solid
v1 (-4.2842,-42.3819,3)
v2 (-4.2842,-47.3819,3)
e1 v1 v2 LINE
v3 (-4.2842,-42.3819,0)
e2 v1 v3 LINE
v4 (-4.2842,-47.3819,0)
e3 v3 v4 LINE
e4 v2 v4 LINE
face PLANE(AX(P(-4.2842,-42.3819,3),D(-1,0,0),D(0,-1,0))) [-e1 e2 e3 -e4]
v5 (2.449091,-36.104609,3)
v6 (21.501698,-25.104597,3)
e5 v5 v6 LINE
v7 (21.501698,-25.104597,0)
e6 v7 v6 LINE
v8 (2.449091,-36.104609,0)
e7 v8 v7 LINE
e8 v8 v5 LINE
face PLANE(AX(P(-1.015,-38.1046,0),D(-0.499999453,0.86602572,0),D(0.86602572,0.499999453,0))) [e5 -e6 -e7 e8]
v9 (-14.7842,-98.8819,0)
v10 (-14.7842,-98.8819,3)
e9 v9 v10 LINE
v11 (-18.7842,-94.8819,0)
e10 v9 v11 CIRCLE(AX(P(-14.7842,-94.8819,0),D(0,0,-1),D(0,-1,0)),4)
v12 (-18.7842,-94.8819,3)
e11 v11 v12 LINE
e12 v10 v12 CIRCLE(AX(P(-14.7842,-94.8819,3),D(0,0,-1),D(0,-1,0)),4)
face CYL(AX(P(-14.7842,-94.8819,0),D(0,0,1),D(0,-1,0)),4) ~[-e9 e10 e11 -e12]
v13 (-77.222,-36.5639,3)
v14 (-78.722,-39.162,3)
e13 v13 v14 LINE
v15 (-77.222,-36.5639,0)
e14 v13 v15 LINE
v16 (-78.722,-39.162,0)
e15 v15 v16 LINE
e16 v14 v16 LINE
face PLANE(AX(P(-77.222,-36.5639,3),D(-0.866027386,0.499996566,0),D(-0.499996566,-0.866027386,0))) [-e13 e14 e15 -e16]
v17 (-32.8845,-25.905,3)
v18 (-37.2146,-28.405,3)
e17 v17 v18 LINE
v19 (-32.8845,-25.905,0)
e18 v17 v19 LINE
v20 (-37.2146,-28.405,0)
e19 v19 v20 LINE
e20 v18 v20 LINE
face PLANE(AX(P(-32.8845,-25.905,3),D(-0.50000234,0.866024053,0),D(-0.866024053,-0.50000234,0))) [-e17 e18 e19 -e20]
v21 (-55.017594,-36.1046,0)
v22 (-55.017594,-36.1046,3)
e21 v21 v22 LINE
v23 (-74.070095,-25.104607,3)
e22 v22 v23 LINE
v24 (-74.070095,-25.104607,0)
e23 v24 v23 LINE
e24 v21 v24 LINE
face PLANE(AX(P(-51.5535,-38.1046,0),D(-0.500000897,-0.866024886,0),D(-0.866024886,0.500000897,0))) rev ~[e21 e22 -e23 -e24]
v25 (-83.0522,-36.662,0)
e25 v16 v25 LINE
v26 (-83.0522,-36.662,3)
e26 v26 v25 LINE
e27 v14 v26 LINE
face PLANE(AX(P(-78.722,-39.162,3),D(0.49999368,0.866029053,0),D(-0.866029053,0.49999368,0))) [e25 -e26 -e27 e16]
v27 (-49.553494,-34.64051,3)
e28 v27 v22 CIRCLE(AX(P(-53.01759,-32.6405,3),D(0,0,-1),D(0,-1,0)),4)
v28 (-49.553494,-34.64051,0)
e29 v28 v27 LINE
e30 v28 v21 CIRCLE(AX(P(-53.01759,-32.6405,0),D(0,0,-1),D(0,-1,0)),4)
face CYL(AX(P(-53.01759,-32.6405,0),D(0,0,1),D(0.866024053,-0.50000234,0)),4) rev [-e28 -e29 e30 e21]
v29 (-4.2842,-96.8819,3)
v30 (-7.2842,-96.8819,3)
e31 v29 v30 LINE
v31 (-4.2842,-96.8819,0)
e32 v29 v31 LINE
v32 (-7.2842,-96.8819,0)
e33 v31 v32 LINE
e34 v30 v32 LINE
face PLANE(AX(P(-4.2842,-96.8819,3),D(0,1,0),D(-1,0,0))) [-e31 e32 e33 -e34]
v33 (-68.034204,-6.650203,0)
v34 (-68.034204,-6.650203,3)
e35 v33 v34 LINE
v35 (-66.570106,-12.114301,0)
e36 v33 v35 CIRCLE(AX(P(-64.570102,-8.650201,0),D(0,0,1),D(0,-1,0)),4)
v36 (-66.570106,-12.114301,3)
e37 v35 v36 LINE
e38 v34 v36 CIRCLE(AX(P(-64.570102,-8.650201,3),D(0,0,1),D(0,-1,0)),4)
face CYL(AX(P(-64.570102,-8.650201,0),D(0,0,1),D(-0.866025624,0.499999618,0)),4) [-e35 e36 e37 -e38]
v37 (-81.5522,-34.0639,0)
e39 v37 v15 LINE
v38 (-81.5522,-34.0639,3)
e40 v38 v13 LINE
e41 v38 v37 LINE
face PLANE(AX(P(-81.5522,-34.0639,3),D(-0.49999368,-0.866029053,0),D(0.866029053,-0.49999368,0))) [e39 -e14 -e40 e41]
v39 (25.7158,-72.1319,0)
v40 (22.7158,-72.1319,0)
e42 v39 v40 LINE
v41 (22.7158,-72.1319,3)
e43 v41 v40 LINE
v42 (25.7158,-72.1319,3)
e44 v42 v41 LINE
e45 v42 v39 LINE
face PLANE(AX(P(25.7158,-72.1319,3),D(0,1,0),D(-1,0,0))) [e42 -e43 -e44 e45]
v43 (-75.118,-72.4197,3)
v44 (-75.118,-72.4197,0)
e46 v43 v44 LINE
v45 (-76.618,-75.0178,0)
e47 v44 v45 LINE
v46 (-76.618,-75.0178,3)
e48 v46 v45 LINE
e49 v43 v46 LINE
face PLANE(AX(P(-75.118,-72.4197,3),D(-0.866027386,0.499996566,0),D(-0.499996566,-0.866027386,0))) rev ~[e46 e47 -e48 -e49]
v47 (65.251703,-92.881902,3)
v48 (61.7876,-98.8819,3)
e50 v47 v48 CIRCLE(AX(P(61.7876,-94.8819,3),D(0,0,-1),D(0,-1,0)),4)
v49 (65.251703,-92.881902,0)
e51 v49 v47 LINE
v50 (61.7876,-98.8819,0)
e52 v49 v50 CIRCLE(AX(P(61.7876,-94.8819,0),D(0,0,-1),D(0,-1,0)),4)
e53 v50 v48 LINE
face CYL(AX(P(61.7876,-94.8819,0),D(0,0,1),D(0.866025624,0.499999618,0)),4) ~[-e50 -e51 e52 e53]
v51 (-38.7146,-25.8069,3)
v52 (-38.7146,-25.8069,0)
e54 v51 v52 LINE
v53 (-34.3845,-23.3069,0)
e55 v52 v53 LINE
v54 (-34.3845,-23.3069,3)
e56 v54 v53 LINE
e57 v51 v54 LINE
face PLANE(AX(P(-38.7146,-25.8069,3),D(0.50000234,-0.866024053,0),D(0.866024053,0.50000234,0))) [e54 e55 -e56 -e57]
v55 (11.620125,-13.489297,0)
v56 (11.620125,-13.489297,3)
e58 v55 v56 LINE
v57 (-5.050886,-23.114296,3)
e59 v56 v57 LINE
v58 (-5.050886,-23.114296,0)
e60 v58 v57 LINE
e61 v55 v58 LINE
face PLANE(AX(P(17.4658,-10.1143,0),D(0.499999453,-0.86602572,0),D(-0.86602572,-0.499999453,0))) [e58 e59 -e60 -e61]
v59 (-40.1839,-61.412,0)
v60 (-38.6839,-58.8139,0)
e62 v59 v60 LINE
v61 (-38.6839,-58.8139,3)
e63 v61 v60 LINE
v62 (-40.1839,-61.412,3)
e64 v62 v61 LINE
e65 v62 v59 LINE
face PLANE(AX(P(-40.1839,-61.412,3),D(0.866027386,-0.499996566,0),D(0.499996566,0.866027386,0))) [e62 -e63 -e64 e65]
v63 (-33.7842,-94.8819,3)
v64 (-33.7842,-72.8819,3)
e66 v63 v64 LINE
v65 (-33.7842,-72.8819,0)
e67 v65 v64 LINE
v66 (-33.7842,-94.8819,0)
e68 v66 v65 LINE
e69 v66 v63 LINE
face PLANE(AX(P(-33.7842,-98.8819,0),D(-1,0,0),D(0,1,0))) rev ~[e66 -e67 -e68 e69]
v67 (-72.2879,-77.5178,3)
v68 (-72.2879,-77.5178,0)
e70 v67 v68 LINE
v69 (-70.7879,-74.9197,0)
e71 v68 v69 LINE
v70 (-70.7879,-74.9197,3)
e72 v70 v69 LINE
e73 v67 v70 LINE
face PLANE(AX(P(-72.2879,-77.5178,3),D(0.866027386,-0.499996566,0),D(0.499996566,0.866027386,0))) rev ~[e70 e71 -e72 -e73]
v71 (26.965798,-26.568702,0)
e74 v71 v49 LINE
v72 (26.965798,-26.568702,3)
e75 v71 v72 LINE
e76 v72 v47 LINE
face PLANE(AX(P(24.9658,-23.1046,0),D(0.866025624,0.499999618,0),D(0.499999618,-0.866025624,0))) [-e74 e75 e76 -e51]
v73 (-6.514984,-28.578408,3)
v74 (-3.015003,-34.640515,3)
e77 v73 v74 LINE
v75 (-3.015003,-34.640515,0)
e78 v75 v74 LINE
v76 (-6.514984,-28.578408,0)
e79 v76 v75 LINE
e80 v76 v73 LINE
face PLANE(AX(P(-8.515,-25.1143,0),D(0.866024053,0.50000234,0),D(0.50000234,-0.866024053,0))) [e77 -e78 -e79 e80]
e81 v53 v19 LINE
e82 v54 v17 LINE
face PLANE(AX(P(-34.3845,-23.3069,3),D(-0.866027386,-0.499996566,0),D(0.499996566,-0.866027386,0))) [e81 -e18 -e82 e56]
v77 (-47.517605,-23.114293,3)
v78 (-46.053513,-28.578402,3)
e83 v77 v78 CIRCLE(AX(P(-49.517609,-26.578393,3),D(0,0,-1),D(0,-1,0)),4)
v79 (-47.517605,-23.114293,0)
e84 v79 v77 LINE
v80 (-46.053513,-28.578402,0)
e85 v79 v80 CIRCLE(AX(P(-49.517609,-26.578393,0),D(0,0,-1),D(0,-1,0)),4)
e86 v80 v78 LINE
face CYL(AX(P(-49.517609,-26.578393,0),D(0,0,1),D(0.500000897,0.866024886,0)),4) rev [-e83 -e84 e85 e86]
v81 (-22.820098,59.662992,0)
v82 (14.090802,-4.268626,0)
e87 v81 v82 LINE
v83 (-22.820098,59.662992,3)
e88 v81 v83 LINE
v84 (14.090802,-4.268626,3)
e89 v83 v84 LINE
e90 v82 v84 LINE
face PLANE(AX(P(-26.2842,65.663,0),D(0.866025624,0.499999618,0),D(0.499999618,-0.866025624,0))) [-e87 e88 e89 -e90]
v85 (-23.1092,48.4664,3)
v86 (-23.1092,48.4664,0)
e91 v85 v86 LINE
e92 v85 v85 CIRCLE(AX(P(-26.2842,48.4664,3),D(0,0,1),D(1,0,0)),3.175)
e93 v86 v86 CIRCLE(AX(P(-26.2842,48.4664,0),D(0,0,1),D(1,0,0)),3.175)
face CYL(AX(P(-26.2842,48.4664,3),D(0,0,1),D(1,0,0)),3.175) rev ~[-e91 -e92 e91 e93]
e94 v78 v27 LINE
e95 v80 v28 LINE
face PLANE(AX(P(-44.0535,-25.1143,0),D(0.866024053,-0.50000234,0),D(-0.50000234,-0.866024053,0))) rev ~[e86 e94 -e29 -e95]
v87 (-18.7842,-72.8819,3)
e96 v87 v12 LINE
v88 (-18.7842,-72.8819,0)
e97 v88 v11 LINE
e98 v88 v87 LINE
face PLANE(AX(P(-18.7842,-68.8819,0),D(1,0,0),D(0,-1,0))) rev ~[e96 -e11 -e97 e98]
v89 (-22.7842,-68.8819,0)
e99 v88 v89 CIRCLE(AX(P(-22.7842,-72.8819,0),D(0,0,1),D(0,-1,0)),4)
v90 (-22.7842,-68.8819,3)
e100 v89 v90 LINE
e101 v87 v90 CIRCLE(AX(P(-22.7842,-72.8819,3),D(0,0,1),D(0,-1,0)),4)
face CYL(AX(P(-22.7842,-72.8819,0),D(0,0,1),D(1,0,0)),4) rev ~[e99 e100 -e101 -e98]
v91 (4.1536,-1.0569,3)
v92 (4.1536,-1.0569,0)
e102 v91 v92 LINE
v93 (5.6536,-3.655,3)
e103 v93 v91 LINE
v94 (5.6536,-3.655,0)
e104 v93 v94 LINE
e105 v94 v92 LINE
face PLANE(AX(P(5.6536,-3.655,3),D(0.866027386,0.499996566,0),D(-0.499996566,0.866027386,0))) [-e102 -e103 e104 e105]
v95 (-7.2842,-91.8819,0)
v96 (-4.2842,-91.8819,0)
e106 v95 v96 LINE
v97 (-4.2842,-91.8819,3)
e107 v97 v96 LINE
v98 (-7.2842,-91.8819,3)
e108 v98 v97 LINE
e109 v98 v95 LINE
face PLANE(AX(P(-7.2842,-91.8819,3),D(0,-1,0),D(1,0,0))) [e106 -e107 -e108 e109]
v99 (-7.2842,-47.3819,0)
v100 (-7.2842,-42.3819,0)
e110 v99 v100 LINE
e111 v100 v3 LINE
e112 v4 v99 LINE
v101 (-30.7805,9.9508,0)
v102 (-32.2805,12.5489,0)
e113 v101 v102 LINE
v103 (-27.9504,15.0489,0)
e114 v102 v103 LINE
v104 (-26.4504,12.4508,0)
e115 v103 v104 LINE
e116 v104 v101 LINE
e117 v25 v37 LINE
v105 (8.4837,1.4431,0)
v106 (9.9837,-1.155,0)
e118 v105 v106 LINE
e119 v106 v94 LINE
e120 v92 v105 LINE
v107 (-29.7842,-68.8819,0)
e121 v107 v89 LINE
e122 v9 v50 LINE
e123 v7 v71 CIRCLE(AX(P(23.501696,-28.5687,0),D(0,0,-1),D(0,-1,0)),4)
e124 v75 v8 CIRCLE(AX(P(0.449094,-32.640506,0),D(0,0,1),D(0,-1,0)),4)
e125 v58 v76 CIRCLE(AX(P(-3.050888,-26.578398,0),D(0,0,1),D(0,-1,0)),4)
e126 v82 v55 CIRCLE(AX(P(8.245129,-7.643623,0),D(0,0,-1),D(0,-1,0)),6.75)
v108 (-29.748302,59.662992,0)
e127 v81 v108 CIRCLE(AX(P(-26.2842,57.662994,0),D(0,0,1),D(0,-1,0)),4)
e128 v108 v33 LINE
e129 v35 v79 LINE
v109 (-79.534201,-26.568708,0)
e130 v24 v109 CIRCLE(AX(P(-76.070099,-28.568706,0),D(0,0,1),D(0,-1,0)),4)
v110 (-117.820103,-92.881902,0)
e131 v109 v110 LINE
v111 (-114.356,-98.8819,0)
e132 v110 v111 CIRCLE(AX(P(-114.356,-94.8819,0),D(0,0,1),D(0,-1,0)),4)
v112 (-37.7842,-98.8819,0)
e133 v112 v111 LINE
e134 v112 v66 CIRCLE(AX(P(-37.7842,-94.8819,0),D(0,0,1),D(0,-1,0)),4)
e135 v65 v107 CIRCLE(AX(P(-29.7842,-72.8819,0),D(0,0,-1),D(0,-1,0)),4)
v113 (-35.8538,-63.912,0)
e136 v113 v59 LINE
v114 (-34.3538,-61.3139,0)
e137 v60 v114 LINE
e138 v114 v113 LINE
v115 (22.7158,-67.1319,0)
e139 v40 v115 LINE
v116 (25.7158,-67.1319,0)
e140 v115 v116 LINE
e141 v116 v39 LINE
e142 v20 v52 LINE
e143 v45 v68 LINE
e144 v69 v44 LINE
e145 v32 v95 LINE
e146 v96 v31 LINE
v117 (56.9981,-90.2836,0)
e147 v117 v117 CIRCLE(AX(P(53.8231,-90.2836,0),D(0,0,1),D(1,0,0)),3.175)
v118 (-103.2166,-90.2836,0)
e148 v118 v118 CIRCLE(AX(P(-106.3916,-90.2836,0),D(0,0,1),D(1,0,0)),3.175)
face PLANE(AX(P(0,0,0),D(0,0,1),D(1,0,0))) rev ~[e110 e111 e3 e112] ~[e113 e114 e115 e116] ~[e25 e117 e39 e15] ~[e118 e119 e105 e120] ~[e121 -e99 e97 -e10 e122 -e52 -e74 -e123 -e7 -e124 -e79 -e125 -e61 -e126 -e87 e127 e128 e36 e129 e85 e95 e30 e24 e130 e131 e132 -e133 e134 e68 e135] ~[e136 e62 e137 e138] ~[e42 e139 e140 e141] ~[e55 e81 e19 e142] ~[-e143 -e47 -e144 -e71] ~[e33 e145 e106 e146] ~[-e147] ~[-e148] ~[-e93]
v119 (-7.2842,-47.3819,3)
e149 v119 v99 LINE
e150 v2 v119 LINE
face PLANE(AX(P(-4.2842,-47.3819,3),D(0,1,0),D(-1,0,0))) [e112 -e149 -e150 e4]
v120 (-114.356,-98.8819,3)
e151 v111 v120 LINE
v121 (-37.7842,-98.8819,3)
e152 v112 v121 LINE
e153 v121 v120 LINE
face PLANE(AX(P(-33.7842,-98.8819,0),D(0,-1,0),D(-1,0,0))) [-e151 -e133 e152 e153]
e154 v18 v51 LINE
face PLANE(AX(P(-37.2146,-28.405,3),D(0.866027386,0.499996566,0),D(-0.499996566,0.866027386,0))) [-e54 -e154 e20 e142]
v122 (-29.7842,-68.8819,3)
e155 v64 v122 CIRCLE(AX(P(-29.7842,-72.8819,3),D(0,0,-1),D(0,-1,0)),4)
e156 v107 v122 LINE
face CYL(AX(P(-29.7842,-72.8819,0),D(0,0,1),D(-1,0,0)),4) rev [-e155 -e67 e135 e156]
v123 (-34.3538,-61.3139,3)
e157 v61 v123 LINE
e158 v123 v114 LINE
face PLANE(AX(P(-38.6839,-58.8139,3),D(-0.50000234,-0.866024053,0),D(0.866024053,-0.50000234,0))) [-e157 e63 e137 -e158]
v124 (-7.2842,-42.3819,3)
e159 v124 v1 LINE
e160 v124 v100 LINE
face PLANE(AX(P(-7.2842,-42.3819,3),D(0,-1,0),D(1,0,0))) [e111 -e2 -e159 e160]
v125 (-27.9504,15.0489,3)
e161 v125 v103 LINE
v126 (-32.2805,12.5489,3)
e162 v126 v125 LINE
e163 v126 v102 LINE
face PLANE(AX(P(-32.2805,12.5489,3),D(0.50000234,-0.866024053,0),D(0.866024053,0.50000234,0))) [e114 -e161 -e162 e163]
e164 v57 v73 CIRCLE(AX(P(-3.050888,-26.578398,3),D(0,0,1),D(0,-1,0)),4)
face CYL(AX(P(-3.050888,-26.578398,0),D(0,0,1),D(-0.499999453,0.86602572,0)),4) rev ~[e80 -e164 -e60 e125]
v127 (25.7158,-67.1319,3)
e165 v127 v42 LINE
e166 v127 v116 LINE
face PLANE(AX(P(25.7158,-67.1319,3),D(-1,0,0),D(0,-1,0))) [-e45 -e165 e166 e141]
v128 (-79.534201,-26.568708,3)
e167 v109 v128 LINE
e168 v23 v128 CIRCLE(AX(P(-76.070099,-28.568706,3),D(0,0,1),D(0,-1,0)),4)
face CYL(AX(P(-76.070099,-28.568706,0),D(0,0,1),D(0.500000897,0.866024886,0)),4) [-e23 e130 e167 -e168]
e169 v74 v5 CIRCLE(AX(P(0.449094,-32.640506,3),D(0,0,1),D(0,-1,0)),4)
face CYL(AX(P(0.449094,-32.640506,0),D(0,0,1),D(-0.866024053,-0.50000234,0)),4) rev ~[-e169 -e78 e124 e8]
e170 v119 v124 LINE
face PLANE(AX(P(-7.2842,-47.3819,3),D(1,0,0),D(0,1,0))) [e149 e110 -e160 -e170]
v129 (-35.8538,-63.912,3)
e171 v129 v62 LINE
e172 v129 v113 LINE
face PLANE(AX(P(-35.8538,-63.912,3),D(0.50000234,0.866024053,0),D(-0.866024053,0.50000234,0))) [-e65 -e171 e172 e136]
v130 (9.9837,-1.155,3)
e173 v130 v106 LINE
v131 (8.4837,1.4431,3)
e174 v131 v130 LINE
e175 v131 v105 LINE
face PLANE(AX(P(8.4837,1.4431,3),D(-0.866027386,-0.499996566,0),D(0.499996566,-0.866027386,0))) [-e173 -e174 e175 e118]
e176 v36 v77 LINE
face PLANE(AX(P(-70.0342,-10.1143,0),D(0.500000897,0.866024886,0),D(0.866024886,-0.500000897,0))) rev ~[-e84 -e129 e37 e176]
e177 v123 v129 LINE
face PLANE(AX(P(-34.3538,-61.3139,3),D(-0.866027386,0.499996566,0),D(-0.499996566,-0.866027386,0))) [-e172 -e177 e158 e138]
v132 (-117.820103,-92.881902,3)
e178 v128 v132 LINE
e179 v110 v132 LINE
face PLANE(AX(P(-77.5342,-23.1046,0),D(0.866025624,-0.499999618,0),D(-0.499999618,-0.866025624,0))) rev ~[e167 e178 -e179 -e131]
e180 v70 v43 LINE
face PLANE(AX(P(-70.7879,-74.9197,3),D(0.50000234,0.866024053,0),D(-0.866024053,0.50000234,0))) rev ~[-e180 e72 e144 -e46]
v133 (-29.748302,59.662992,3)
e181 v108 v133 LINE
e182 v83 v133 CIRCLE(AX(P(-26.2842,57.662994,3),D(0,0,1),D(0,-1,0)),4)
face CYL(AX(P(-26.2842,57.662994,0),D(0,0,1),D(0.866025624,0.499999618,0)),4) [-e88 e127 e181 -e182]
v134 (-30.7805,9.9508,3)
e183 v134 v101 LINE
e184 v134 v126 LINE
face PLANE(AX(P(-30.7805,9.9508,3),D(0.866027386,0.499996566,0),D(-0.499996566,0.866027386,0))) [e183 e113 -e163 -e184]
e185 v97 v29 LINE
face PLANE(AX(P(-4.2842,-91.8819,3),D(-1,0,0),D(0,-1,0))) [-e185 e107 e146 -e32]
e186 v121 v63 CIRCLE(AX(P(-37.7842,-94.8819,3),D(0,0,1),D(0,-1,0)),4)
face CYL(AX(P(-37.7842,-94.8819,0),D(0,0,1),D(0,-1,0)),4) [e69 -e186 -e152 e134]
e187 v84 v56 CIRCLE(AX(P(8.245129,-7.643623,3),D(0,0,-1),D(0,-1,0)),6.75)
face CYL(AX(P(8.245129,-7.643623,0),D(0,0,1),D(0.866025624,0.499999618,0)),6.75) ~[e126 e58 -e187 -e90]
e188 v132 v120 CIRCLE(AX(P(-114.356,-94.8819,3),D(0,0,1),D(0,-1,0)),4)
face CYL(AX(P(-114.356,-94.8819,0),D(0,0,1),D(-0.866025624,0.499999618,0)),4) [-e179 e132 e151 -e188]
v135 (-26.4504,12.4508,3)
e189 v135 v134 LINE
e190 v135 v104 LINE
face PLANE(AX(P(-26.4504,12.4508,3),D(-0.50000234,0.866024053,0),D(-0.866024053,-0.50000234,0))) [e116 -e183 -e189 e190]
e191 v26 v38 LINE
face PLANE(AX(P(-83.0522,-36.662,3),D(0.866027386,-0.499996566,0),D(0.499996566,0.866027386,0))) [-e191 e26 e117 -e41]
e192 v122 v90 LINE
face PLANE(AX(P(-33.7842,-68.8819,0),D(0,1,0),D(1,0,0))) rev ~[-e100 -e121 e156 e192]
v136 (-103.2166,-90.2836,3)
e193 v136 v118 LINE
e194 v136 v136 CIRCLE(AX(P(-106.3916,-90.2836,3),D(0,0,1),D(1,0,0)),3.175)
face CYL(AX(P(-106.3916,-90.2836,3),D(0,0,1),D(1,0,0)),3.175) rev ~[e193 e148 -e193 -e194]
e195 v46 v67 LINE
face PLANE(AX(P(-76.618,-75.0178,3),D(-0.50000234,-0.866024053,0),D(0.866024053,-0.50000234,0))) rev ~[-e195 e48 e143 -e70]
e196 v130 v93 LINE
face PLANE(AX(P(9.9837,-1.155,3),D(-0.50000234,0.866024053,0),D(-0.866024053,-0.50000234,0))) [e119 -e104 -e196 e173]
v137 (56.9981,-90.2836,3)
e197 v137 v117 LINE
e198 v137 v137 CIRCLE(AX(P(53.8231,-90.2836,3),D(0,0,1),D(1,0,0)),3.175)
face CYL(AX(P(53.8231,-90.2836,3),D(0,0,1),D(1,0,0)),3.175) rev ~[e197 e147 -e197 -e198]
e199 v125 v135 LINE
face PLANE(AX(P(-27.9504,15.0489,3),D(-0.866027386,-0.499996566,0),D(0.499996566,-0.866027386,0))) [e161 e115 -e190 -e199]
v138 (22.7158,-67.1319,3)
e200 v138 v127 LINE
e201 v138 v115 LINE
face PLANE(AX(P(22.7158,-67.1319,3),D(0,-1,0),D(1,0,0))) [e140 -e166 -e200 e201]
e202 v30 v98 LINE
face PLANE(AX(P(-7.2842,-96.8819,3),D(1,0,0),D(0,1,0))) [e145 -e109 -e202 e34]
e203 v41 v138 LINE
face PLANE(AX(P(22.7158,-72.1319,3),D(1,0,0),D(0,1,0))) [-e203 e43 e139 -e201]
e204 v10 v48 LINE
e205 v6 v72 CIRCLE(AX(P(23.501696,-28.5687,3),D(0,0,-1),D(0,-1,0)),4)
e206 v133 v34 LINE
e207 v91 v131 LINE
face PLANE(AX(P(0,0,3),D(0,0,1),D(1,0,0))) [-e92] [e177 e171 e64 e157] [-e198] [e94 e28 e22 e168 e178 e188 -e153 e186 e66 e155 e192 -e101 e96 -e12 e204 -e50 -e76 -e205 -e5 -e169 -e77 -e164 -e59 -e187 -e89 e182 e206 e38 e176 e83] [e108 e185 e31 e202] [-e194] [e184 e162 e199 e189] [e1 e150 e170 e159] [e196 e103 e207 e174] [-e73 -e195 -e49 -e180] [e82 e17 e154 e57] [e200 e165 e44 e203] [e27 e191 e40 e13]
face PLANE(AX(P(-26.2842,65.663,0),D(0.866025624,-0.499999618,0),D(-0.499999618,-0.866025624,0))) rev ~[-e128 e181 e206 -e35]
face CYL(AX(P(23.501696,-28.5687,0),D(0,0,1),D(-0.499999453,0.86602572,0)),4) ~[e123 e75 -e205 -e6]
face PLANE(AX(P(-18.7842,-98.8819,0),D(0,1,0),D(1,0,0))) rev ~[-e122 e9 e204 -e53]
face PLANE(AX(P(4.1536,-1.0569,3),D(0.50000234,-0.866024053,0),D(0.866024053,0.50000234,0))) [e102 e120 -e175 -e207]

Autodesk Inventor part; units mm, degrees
ref_plane "YZ Plane" through (0, 0, 0) normal (1, 0, 0) x (0, 1, 0)
ref_plane "XZ Plane" through (0, 0, 0) normal (0, 1, 0) x (-1, 0, 0)
ref_plane "XY Plane" through (0, 0, 0) normal (0, 0, 1) x (1, 0, 0)
sketch "Sketch1" plane through (0, 0, 0) normal (0, 0, 1) x (1, 0, 0)
  line L0 (68.7158, -98.8819) -> (-121.2842, -98.8819) construction
  line L1 (-121.2842, -98.8819) -> (-26.2842, 65.663) construction
  line L2 (-26.2842, 65.663) -> (-26.2842, -98.8819) construction
  line L3 (68.7158, -98.8819) -> (-73.7842, -16.6094) construction
  line L4 (-33.7842, -98.8819) -> (-33.7842, -68.8819)
  line L5 (-33.7842, -68.8819) -> (-18.7842, -68.8819)
  line L6 (-18.7842, -68.8819) -> (-18.7842, -98.8819)
  line L7 (-70.0342, -10.1143) -> (-44.0535, -25.1143)
  line L8 (-44.0535, -25.1143) -> (-51.5535, -38.1046)
  line L9 (-51.5535, -38.1046) -> (-77.5342, -23.1046)
  line L10 (-77.5342, -23.1046) -> (-121.2842, -98.8819)
  line L11 (-33.7842, -98.8819) -> (-121.2842, -98.8819)
  line L12 (-18.7842, -98.8819) -> (68.7158, -98.8819)
  line L13 (-26.2842, 65.663) -> (-70.0342, -10.1143)
  line L14 (-121.2842, -98.8819) -> (17.4658, -18.7745) construction
  line L15 (-26.2842, 65.663) -> (68.7158, -98.8819) construction
  line L16 (17.4658, -10.1143) -> (-8.515, -25.1143)
  line L17 (-8.515, -25.1143) -> (-1.015, -38.1046)
  line L18 (-1.015, -38.1046) -> (24.9658, -23.1046)
  line L19 (-26.2842, 65.663) -> (17.4658, -10.1143)
  line L20 (24.9658, -23.1046) -> (68.7158, -98.8819)
  point P0 (-26.2842, -44.0336)
  point P1 (-26.2842, -44.0336)
  dimension "d3" = 190
  dimension "d6" = 7.5
  dimension "d7" = 15
  dimension "d8" = 30
  dimension "d9" = 15
  dimension "d10" = 7.5
  dimension "d16" = 30
  dimension "d18" = 15
  dimension "d19" = 7.5
  dimension "d20" = 30
extrude "Extrusion2" add sketch "Sketch1" along normal blind 3
fillet "Fillet1" radius 6.75 1 edges at (17.4658, -10.1143, 1.5)
fillet "Fillet2" radius 4 14 edges at (-8.515, -25.1143, 1.5) (24.9658, -23.1046, 1.5) (-1.015, -38.1046, 1.5) (-33.7842, -98.8819, 1.5) (-33.7842, -68.8819, 1.5) (-18.7842, -98.8819, 1.5) (68.7158, -98.8819, 1.5) (-18.7842, -68.8819, 1.5) (-121.2842, -98.8819, 1.5) (-70.0342, -10.1143, 1.5) (-44.0535, -25.1143, 1.5) (-51.5535, -38.1046, 1.5) (-77.5342, -23.1046, 1.5) (-26.2842, 65.663, 1.5)
sketch "Sketch3" plane through (0, 0, 3) normal (0, 0, 1) x (1, 0, 0)
  line L0 (61.7876, -98.8819) -> (-14.7842, -98.8819) projected
  line L1 (-7.2842, -91.8819) -> (-4.2842, -91.8819)
  line L2 (-4.2842, -91.8819) -> (-4.2842, -96.8819)
  line L3 (-4.2842, -96.8819) -> (-7.2842, -96.8819)
  line L4 (-7.2842, -96.8819) -> (-7.2842, -91.8819)
  line L5 (-18.7842, -94.8819) -> (-18.7842, -72.8819) projected
  line L6 (-7.2842, -42.3819) -> (-4.2842, -42.3819)
  line L7 (-4.2842, -42.3819) -> (-4.2842, -47.3819)
  line L8 (-4.2842, -47.3819) -> (-7.2842, -47.3819)
  line L9 (-7.2842, -47.3819) -> (-7.2842, -42.3819)
  line L10 (-74.0701, -25.1046) -> (-55.0176, -36.1046) projected
  line L11 (-117.8201, -92.8819) -> (-79.5342, -26.5687) projected
  line L12 (11.6201, -13.4893) -> (-5.0509, -23.1143) projected
  line L13 (-22.8201, 59.663) -> (14.0908, -4.2686) projected
  line L14 (-34.3845, -23.3069) -> (-32.8845, -25.905)
  line L15 (-32.8845, -25.905) -> (-37.2146, -28.405)
  line L16 (-37.2146, -28.405) -> (-38.7146, -25.8069)
  line L17 (-38.7146, -25.8069) -> (-34.3845, -23.3069)
  line L18 (8.4837, 1.4431) -> (9.9837, -1.155)
  line L19 (9.9837, -1.155) -> (5.6536, -3.655)
  line L20 (5.6536, -3.655) -> (4.1536, -1.0569)
  line L21 (4.1536, -1.0569) -> (8.4837, 1.4431)
  line L22 (-40.1839, -61.412) -> (-38.6839, -58.8139)
  line L23 (-38.6839, -58.8139) -> (-34.3538, -61.3139)
  line L24 (-34.3538, -61.3139) -> (-35.8538, -63.912)
  line L25 (-35.8538, -63.912) -> (-40.1839, -61.412)
  line L26 (-83.0522, -36.662) -> (-81.5522, -34.0639)
  line L27 (-81.5522, -34.0639) -> (-77.222, -36.5639)
  line L28 (-77.222, -36.5639) -> (-78.722, -39.162)
  line L29 (-78.722, -39.162) -> (-83.0522, -36.662)
  line L30 (22.7158, -67.1319) -> (25.7158, -67.1319)
  line L31 (25.7158, -67.1319) -> (25.7158, -72.1319)
  line L32 (25.7158, -72.1319) -> (22.7158, -72.1319)
  line L33 (22.7158, -72.1319) -> (22.7158, -67.1319)
  line L34 (-49.5535, -34.6405) -> (-46.0535, -28.5784) projected
  line L35 (-6.515, -28.5784) -> (-3.015, -34.6405) projected
  line L36 (-30.7805, 9.9508) -> (-32.2805, 12.5489)
  line L37 (-32.2805, 12.5489) -> (-27.9504, 15.0489)
  line L38 (-27.9504, 15.0489) -> (-26.4504, 12.4508)
  line L39 (-26.4504, 12.4508) -> (-30.7805, 9.9508)
  line L40 (-75.118, -72.4197) -> (-76.618, -75.0178)
  line L41 (-76.618, -75.0178) -> (-72.2879, -77.5178)
  line L42 (-72.2879, -77.5178) -> (-70.7879, -74.9197)
  line L43 (-70.7879, -74.9197) -> (-75.118, -72.4197)
  line L44 (-68.0342, -6.6502) -> (-29.7483, 59.663) projected
  line L45 (-47.5176, -23.1143) -> (-66.5701, -12.1143) projected
  line L46 (26.9658, -26.5687) -> (65.2517, -92.8819) projected
  line L47 (-61.1393, 5.2922) -> (-129.5703, -113.2338) construction
  line L48 (-129.5703, -98.8819) -> (82.7932, -98.8819) construction
  line L49 (71.7222, -104.0892) -> (-26.7217, 66.4208) construction
  line L50 (-61.1393, 5.2922) -> (-24.7647, 68.2948) construction
  line L51 (-26.2842, 65.663) -> (-26.2842, -98.8819) construction
  line L52 (68.7158, -98.8819) -> (-73.7842, -16.6094) construction
  line L53 (-121.2842, -98.8819) -> (21.2158, -16.6094) construction
  circle A0 centre (-26.2842, -44.0336) radius 92.5 construction
  circle A1 centre (53.8231, -90.2836) radius 3.175
  circle A2 centre (-106.3916, -90.2836) radius 3.175
  circle A3 centre (-26.2842, 48.4664) radius 3.175
  point P0 (0, 0)
  dimension "d35" = 3
  dimension "d36" = 5
  dimension "d38" = 2
  dimension "d41" = 11.5
  dimension "d42" = 3
  dimension "d43" = 5
  dimension "d44" = 44.5
  dimension "d45" = 3
  dimension "d46" = 5
  dimension "d47" = 3
  dimension "d48" = 5
  dimension "d49" = 44.5
  dimension "d50" = 3
  dimension "d51" = 5
  dimension "d52" = 3
  dimension "d53" = 5
  dimension "d54" = 44.5
  dimension "d55" = 2
  dimension "d56" = 11.5
  dimension "d57" = 11.5
  dimension "d58" = 2
  dimension "d59" = 3
  dimension "d60" = 5
  dimension "d61" = 19.75
  dimension "d62" = 30
  dimension "d63" = 5
  dimension "d64" = 3
  dimension "d65" = 30
  dimension "d66" = 19.75
  dimension "d67" = 3
  dimension "d68" = 5
  dimension "d69" = 19.75
  dimension "d70" = 30
  dimension "d72" = 185
  dimension "d73" = 6.35
  dimension "d74" = 6.35
  dimension "d75" = 6.35
extrude "Extrusion4" cut sketch "Sketch3" against normal blind 3
equation "\"d6\" = 0.5 * d7"
equation "\"d9\" = d7"
equation "\"d10\" = d6"
equation "\"d16\" = d15"
equation "\"d18\" = d7"
equation "\"d19\" = d6"
equation "\"d20\" = d16"
equation "\"d55\" = d38"
equation "\"d56\" = d41"
equation "\"d57\" = d56"
equation "\"d58\" = d38"
equation "\"d61\" = 0.5 * d44 - 0.5 * d60"
equation "\"d65\" = d62"
equation "\"d66\" = d61"
equation "\"d69\" = d61"
equation "\"d70\" = d62"
equation "\"d15\" = d8"
properties part number "base"
